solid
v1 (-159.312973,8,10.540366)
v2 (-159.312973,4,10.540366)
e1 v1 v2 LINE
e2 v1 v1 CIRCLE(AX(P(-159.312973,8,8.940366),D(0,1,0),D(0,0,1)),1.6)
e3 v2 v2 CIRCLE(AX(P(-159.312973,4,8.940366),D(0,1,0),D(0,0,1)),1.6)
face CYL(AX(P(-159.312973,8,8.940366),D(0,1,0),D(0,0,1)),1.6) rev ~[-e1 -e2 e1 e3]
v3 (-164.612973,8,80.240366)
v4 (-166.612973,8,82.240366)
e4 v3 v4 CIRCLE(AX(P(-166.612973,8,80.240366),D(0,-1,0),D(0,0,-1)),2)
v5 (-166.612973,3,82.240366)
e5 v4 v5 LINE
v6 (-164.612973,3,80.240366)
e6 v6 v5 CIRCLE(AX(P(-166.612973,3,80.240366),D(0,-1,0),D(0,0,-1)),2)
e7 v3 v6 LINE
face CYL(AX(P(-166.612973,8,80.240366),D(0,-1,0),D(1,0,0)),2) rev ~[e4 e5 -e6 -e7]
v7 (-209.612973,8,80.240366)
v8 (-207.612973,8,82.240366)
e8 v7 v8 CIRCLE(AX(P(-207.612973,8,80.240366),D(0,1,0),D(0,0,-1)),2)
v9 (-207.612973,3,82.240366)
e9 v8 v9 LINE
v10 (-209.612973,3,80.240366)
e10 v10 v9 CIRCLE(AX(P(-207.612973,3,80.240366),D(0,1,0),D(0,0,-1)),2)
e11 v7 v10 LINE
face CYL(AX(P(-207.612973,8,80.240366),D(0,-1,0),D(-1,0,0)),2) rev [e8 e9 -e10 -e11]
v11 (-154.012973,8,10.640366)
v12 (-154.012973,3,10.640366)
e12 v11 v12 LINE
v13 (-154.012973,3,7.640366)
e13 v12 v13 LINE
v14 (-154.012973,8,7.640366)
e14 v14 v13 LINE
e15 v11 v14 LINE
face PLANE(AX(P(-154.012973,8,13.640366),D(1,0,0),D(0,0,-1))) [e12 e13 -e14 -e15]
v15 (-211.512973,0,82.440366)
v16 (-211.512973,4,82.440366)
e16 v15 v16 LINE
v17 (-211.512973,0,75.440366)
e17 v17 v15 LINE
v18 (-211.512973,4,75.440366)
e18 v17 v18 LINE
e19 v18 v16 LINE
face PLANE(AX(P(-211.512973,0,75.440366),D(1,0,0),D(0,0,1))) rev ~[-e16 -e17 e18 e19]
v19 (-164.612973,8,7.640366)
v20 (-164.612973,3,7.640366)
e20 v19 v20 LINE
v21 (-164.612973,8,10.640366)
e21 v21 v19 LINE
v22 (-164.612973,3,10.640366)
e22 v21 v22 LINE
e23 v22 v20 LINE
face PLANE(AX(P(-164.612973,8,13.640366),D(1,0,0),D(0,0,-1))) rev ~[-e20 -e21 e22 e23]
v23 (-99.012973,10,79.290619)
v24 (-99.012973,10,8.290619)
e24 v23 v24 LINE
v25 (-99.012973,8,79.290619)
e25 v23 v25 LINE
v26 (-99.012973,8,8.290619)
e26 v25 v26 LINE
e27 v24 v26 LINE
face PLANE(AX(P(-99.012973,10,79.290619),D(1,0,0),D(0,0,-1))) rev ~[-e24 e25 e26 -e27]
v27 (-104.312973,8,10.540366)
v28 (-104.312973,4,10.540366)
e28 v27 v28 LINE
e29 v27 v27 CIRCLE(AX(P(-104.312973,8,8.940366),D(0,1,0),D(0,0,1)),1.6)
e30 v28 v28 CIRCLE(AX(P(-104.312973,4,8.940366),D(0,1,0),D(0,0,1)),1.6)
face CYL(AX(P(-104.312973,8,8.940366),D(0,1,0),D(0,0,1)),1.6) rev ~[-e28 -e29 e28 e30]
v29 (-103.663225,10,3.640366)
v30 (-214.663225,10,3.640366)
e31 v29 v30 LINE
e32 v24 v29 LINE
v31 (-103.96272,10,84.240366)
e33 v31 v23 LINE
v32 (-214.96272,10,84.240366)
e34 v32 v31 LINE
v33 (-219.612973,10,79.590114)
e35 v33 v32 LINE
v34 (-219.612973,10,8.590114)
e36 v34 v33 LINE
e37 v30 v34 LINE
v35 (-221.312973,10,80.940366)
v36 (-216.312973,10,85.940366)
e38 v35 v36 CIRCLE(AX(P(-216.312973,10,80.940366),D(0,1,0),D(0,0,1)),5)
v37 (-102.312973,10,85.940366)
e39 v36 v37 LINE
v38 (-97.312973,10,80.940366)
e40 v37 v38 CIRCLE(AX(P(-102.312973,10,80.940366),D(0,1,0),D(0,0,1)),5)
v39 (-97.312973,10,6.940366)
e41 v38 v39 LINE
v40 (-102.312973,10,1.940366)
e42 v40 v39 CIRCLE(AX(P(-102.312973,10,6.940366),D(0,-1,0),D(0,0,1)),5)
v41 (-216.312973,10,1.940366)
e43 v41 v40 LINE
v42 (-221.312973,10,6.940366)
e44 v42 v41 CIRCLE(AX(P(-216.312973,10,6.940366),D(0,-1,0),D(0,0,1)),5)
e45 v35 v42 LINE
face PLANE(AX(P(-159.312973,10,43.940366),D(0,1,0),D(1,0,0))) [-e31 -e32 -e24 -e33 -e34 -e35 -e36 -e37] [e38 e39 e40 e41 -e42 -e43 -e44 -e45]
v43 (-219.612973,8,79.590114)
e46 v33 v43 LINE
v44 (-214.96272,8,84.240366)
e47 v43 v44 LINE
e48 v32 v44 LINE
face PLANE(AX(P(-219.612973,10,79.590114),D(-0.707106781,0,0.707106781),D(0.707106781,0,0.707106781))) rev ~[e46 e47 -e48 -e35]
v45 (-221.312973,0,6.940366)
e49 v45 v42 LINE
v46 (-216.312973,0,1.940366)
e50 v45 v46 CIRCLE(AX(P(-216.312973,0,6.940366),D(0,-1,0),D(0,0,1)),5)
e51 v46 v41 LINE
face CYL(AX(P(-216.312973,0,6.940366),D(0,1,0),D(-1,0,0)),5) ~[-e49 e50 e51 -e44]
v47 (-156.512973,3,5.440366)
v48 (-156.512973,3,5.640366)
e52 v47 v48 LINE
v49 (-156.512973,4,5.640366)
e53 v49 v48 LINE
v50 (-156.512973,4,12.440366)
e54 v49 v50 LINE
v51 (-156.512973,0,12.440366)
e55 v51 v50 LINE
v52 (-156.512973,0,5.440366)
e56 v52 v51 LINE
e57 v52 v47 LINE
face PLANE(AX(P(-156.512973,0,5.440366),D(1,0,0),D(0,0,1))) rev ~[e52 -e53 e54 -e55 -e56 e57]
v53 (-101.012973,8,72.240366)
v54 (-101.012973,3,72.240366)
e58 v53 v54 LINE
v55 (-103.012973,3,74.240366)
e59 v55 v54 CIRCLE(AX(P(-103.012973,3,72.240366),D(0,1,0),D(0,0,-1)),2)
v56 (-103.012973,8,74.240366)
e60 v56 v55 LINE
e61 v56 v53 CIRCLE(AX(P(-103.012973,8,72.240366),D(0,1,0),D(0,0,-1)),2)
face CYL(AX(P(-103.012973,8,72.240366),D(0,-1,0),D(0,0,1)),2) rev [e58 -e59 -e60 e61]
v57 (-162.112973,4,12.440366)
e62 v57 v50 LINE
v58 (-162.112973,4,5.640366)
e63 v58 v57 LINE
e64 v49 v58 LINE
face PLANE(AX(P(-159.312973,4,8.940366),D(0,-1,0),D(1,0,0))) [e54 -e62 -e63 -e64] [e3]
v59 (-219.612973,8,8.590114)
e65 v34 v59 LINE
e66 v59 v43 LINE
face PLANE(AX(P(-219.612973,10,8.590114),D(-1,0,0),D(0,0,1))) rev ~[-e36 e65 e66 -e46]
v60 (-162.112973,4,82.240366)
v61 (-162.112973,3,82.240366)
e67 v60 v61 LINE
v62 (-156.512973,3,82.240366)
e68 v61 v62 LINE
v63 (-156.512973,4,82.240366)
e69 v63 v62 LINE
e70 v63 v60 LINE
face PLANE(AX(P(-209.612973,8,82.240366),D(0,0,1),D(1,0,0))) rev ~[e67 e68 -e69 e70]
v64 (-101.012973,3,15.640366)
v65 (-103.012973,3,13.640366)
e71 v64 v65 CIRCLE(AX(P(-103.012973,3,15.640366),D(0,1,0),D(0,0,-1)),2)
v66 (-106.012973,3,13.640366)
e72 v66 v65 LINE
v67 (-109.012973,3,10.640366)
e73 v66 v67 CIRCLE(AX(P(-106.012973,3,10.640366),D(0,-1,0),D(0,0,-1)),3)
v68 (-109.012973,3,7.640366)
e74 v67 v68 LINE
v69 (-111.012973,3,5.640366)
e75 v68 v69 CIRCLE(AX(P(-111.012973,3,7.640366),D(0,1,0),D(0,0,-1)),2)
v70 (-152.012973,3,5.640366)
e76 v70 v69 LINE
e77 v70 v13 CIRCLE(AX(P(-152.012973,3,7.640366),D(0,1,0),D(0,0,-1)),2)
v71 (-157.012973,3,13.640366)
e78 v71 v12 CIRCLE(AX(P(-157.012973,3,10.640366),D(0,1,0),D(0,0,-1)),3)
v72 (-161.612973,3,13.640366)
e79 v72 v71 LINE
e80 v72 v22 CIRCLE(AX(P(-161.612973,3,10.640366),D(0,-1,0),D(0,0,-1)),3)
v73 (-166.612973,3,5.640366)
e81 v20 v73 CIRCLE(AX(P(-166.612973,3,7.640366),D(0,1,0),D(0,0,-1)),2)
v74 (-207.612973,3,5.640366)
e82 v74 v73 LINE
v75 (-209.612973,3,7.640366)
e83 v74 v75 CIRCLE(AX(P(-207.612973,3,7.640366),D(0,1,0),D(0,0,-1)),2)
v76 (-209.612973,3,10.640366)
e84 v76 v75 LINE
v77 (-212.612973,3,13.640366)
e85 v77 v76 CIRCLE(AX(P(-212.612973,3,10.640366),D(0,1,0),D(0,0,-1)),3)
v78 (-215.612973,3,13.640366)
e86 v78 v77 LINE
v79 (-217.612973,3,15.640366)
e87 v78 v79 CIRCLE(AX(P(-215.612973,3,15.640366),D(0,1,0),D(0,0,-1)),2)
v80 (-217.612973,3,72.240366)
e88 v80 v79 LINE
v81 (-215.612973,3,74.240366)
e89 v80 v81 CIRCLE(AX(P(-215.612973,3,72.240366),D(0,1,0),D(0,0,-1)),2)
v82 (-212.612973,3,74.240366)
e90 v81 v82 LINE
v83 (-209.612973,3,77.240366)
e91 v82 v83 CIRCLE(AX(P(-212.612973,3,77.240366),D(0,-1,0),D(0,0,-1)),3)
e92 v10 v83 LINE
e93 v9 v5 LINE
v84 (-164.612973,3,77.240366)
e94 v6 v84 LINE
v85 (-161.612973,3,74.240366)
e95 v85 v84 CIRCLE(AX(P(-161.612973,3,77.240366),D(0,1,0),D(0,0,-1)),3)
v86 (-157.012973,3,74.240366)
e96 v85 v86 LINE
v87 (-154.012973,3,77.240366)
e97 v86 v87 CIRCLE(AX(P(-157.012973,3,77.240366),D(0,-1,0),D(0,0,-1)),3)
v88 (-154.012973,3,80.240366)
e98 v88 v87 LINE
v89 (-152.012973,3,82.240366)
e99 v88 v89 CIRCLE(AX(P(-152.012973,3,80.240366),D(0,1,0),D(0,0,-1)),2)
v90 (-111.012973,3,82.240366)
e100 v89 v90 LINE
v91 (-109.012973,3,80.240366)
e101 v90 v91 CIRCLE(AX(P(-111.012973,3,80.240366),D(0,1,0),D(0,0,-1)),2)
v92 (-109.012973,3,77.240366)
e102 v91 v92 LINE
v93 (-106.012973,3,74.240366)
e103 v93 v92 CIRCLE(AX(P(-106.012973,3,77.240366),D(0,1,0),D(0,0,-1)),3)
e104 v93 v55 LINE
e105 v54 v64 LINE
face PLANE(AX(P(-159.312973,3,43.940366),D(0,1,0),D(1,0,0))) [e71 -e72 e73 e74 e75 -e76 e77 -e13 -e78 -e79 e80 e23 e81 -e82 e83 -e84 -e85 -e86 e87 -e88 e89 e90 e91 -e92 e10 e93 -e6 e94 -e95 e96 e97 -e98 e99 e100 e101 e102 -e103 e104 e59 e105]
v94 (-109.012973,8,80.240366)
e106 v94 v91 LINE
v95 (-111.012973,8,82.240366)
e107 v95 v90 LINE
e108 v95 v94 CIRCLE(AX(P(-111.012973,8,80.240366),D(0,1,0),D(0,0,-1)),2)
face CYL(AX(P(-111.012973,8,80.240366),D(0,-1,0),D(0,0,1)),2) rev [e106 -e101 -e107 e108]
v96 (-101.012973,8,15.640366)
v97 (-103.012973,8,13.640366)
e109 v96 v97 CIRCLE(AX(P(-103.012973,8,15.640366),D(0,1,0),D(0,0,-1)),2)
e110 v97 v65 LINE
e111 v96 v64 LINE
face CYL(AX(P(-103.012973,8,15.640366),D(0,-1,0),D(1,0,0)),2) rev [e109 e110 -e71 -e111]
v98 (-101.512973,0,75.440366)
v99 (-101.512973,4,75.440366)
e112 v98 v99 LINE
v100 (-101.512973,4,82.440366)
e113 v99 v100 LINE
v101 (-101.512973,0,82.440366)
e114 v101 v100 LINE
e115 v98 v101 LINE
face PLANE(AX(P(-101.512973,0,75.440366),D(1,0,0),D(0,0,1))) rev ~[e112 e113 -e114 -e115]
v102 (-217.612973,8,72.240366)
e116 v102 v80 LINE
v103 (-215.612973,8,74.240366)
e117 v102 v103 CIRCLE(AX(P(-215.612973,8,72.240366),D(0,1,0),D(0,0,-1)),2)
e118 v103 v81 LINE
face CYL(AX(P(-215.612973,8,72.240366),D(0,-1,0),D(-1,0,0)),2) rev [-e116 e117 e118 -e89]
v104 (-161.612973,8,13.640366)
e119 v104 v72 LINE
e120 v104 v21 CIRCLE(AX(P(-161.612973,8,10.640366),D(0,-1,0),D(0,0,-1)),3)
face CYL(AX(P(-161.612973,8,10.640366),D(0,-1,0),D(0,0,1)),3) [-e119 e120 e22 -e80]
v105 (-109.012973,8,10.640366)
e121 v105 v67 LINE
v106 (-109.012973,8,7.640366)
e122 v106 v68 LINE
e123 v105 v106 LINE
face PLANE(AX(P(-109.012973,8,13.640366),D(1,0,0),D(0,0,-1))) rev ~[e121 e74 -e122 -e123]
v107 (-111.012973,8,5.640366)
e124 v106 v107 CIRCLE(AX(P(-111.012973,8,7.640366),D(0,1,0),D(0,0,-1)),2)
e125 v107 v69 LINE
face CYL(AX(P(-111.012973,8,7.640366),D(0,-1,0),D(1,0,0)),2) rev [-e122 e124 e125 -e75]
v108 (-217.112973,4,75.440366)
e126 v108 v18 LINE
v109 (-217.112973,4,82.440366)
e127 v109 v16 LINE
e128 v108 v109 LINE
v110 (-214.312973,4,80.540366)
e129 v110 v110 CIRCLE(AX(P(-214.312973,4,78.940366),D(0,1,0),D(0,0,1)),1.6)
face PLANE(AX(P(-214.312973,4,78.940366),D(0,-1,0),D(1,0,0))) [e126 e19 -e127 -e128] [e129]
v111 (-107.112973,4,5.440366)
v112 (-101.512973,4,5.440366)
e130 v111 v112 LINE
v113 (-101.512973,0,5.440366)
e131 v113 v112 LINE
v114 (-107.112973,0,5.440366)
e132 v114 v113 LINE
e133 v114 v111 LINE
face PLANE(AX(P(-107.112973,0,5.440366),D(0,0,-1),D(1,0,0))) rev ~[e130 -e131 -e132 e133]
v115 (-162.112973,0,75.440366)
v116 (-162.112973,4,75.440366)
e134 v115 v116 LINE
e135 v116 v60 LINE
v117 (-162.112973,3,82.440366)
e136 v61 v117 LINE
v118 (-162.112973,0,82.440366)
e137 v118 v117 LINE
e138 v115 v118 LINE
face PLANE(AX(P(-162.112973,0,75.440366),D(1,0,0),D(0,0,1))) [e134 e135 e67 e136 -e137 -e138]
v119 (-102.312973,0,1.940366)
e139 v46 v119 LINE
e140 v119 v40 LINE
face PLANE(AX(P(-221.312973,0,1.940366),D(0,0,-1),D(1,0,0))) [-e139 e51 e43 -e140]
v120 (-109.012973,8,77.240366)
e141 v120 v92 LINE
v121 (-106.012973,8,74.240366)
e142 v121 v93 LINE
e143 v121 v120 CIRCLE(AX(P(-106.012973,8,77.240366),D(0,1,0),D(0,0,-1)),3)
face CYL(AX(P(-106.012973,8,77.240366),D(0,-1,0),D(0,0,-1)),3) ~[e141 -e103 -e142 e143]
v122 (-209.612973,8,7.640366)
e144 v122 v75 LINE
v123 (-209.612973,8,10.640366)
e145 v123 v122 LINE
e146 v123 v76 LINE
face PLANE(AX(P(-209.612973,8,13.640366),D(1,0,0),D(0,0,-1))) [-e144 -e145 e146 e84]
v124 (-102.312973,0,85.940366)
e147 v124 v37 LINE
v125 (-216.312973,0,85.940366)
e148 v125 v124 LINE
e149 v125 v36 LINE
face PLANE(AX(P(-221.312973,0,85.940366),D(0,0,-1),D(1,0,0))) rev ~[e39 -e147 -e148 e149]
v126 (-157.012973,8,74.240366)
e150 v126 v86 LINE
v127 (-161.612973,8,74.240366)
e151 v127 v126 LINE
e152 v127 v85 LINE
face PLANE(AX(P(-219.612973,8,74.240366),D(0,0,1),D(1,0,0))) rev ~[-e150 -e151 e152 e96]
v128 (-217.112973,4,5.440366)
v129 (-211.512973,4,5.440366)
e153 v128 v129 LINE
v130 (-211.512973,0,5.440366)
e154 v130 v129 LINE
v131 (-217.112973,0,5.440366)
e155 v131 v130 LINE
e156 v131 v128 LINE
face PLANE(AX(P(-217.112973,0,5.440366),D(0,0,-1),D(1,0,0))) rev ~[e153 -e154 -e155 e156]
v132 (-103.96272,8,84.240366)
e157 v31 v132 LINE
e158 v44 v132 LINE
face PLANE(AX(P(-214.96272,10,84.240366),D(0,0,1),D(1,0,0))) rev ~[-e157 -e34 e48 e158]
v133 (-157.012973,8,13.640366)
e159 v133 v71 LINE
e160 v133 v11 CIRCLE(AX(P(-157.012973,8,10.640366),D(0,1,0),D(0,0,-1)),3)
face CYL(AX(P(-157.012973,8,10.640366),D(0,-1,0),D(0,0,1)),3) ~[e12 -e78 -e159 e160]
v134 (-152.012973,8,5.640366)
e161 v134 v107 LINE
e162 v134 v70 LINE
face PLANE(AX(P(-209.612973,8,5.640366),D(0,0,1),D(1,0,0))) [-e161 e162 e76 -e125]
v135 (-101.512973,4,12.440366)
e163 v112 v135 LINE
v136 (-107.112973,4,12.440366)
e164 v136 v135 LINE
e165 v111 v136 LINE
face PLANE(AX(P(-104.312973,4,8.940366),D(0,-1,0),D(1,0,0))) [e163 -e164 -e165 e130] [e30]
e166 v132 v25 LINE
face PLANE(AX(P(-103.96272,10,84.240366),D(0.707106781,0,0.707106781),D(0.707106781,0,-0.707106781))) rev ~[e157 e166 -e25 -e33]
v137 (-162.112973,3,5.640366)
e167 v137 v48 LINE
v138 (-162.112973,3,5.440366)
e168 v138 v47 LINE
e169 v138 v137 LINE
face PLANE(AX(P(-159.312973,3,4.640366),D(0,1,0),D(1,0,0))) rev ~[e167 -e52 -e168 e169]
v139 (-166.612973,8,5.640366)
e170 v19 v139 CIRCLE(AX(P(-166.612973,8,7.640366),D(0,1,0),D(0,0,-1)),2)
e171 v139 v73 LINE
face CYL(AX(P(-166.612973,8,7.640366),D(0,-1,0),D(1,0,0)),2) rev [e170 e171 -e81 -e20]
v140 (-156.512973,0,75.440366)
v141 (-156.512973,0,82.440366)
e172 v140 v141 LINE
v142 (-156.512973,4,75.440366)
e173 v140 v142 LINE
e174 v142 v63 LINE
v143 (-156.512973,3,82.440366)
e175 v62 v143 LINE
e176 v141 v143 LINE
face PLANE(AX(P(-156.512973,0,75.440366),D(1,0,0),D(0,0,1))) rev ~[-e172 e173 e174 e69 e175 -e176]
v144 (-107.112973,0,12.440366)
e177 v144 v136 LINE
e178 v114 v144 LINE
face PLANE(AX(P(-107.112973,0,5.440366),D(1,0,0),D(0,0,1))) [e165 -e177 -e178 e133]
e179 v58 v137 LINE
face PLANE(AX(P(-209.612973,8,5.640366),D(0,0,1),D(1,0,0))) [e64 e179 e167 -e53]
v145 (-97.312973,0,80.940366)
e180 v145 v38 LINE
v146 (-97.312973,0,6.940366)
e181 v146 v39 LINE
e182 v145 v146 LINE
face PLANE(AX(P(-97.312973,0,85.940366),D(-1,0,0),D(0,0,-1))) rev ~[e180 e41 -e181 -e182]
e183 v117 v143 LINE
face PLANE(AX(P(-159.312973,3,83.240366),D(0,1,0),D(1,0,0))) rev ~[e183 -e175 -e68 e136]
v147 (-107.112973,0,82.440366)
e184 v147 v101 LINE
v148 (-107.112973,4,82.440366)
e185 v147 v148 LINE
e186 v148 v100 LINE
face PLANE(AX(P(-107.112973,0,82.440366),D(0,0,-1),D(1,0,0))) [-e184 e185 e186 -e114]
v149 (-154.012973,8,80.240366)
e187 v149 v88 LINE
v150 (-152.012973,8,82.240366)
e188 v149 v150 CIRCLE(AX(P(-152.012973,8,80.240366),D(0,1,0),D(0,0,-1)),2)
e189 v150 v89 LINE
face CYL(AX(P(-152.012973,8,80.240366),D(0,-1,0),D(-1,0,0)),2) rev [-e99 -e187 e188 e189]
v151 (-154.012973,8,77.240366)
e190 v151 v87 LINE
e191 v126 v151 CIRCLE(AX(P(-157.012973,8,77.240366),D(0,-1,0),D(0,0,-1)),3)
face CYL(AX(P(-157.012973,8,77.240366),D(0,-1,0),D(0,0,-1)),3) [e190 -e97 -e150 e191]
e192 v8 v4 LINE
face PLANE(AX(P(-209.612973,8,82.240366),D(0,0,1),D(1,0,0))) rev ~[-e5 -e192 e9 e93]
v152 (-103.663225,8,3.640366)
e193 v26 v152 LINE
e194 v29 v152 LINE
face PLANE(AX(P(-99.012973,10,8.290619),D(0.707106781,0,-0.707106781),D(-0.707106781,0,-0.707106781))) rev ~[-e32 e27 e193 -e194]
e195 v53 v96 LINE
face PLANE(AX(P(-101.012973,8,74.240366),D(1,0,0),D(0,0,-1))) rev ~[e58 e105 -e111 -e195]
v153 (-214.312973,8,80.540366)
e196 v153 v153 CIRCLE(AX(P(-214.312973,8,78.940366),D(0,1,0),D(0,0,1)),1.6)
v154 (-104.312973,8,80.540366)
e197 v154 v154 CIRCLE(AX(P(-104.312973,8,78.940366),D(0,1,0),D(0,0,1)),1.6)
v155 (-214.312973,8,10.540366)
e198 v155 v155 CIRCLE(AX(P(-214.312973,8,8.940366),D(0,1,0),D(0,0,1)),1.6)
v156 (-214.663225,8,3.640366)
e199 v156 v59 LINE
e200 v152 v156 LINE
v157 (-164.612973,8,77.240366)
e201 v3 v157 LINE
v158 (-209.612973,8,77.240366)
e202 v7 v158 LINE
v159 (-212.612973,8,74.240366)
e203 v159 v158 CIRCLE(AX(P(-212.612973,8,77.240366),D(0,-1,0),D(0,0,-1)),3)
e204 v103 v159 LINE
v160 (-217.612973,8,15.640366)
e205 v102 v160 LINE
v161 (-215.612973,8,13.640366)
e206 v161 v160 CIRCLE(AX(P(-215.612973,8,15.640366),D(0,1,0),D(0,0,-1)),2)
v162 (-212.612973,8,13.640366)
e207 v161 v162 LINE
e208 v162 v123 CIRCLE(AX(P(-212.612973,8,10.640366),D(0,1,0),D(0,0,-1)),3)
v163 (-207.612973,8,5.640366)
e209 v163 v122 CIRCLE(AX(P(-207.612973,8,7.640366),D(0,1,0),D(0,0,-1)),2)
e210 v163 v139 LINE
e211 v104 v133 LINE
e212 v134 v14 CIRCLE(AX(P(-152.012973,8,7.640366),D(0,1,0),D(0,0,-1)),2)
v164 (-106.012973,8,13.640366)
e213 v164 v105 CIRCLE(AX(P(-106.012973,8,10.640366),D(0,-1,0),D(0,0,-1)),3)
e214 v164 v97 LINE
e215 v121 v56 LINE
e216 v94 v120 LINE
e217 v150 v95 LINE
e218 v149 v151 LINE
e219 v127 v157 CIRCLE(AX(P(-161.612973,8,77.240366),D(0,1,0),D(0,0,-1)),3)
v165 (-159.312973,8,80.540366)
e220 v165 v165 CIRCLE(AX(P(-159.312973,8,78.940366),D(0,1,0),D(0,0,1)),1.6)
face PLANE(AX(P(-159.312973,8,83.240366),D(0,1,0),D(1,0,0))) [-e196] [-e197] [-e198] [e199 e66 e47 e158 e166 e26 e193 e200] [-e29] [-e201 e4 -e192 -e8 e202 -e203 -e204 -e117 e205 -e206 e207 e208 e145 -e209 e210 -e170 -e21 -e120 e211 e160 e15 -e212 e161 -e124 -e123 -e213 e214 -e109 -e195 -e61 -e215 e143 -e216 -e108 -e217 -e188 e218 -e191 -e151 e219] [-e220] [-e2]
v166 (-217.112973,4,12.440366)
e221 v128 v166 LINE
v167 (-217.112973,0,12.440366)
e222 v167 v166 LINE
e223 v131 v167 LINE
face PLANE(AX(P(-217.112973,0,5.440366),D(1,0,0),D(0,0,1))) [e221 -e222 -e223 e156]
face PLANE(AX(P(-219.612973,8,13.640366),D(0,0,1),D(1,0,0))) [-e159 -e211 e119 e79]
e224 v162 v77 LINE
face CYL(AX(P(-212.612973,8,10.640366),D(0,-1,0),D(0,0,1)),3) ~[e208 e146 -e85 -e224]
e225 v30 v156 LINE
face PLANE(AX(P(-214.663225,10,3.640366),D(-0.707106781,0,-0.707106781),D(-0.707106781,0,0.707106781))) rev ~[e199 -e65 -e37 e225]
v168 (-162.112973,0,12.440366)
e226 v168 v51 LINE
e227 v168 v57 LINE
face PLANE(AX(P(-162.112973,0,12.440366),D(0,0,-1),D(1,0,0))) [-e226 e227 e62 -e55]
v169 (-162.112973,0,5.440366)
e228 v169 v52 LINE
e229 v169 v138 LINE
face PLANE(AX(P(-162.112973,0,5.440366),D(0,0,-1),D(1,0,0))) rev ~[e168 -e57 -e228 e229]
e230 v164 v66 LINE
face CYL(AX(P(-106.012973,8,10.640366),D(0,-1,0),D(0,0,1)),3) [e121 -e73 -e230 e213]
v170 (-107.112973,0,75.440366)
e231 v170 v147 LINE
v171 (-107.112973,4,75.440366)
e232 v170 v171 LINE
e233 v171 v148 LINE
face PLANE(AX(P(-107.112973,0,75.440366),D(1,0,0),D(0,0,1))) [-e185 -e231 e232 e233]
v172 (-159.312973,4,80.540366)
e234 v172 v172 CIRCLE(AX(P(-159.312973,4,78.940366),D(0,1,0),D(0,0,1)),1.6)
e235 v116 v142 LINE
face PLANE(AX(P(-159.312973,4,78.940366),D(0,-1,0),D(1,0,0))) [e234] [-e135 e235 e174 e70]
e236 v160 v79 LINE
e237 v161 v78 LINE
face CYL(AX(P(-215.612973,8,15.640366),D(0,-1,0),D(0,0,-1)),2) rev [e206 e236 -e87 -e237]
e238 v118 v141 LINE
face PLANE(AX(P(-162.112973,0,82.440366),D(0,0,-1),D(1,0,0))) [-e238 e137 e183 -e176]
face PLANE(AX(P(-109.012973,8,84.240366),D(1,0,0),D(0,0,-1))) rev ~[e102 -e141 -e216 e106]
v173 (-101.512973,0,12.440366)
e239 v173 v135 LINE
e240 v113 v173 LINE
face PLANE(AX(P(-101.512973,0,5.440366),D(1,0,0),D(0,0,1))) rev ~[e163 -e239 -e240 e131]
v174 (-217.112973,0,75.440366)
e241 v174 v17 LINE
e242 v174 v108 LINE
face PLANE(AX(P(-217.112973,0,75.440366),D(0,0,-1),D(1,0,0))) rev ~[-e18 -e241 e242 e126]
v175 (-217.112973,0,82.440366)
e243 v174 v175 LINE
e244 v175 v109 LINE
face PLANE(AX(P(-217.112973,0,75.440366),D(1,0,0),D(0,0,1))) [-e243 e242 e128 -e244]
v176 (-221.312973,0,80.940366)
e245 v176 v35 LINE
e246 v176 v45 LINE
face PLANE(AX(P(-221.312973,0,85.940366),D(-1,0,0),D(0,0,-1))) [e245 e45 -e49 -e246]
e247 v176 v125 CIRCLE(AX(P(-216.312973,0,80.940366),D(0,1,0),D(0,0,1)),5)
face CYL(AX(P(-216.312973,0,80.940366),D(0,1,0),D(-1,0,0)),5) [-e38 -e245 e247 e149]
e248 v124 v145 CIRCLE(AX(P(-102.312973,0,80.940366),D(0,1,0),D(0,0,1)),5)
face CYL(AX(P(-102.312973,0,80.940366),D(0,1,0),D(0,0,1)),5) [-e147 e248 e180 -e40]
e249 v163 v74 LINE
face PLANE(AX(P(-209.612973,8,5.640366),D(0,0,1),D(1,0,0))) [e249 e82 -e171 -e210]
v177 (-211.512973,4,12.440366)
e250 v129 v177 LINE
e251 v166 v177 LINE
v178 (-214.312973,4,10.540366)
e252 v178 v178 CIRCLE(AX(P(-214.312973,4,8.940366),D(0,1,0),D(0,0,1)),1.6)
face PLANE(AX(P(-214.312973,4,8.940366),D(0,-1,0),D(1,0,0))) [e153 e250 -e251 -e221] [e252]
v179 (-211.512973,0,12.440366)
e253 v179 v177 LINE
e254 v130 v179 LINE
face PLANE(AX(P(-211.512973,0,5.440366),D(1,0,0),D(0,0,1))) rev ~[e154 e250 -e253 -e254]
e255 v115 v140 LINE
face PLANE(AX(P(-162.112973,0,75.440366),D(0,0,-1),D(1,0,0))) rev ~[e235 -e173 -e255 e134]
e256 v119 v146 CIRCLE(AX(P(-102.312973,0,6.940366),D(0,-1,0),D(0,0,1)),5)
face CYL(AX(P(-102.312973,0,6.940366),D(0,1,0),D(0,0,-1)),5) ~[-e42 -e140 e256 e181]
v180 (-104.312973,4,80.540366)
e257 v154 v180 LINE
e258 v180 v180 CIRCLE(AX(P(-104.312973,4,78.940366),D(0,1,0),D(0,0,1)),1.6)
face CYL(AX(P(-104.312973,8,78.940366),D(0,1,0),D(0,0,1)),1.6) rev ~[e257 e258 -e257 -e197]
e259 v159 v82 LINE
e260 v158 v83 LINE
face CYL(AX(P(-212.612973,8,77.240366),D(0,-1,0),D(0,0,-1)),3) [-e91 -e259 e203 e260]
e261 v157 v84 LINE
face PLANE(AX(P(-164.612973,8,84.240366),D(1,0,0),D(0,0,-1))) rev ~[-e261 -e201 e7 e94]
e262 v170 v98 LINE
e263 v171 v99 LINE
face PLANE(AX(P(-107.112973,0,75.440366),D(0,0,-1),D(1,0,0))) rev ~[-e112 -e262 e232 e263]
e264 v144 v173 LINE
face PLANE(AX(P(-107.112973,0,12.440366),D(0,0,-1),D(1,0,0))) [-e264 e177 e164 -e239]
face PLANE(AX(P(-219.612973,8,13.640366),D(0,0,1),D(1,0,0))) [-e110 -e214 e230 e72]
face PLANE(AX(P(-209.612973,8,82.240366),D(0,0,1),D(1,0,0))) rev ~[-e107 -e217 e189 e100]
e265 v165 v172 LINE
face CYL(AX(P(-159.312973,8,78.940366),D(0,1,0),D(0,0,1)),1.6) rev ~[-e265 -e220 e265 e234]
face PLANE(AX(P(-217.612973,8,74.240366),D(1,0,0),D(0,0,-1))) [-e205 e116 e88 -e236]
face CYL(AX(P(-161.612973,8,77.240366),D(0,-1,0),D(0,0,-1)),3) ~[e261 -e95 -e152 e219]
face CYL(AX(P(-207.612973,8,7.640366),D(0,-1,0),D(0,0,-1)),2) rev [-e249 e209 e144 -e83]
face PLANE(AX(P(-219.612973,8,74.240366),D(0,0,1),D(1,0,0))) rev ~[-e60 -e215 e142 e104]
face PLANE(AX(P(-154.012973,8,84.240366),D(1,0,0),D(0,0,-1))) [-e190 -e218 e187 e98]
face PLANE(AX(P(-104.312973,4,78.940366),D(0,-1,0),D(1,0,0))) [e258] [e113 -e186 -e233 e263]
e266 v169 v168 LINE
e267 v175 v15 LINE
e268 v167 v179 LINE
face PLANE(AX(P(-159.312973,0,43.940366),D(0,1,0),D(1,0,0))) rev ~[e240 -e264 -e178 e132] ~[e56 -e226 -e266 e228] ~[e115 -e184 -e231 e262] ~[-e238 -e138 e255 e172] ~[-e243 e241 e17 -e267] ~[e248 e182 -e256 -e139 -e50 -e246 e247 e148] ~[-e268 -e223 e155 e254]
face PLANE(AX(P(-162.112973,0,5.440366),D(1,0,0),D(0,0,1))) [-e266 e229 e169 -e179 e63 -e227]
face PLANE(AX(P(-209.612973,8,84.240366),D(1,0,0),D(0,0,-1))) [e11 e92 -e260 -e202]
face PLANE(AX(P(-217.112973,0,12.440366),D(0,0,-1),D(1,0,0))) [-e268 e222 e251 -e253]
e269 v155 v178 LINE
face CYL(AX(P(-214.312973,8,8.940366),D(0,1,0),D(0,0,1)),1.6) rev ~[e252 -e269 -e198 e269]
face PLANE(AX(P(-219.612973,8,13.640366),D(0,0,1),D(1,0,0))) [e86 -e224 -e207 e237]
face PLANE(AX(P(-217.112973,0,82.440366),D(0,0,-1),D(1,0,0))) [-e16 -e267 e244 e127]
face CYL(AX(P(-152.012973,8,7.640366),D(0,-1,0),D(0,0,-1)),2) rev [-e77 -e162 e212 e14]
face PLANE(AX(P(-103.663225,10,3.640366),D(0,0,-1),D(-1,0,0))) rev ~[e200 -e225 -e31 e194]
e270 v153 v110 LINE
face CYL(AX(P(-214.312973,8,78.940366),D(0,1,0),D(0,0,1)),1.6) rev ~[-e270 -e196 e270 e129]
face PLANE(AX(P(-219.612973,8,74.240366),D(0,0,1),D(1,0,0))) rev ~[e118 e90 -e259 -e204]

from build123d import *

# Parameters (mm, degrees)
SKETCH1_W           = 124
SKETCH1_H           = 84
BOSS_EXTRUDE1_DEPTH = 10
CUT_EXTRUDE1_DEPTH  = 2
SKETCH3_W           = 120.6
SKETCH3_H           = 60.6
CUT_EXTRUDE2_DEPTH  = 5
SKETCH4_W           = 45
SKETCH4_H           = 10
CUT_EXTRUDE3_DEPTH  = 5
FILLET1_R           = 3
FILLET2_R           = 5
SKETCH5_R           = 1.6
CUT_EXTRUDE4_DEPTH  = 238.548265663
SKETCH7_W           = 5.6
SKETCH7_H           = 7
CUT_EXTRUDE5_DEPTH  = 4
SKETCH8_W           = 100.6
SKETCH8_H           = 2
SKETCH8_W_2         = 2
SKETCH8_H_2         = 60.6
BOSS_EXTRUDE2_DEPTH = 5
FILLET3_R           = 2


with BuildPart() as part:
    # Sketch1 → Boss-Extrude1 (new body)
    with BuildSketch(Plane(origin=(0, 0, 0), x_dir=(1, 0, 0), z_dir=(0, 1, 0))):
        with Locations((-159.312972905, -43.940366204)):
            Rectangle(SKETCH1_W, SKETCH1_H)
    extrude(amount=BOSS_EXTRUDE1_DEPTH)

    # Sketch2 → Cut-Extrude1 (cut)
    with BuildSketch(Plane(origin=(0, 10, 0), x_dir=(1, 0, 0), z_dir=(0, 1, 0))):
        Polygon((-214.663225437, -3.640366204), (-219.612972905, -8.590113673), (-219.612972905, -79.590113673), (-214.962720373, -84.240366204), (-103.962720373, -84.240366204), (-99.012972905, -79.290618736), (-99.012972905, -8.290618736), (-103.663225437, -3.640366204), align=None)
    extrude(amount=-CUT_EXTRUDE1_DEPTH, mode=Mode.SUBTRACT)

    # Sketch3 → Cut-Extrude2 (cut)
    with BuildSketch(Plane(origin=(0, 8, 0), x_dir=(1, 0, 0), z_dir=(0, 1, 0))):
        with Locations((-159.312972905, -43.940366204)):
            Rectangle(SKETCH3_W, SKETCH3_H)
    extrude(amount=-CUT_EXTRUDE2_DEPTH, mode=Mode.SUBTRACT)

    # Sketch4 → Cut-Extrude3 (cut)
    with BuildSketch(Plane(origin=(0, 8, 0), x_dir=(1, 0, 0), z_dir=(0, 1, 0))):
        with Locations((-187.112972905, -8.640366204)):
            Rectangle(SKETCH4_W, SKETCH4_H)
        with Locations((-131.512972905, -8.640366204)):
            Rectangle(SKETCH4_W, SKETCH4_H)
        with Locations((-131.512972905, -79.240366204)):
            Rectangle(SKETCH4_W, SKETCH4_H)
        with Locations((-187.112972905, -79.240366204)):
            Rectangle(SKETCH4_W, SKETCH4_H)
    extrude(amount=-CUT_EXTRUDE3_DEPTH, mode=Mode.SUBTRACT)

    # Fillet1
    fillet1_edges = [part.edges().sort_by_distance(p)[0] for p in [
        (-209.612972905, 5.5, 74.240366204),
        (-164.612972905, 5.5, 74.240366204),
        (-109.012972905, 5.5, 74.240366204),
        (-154.012972905, 5.5, 74.240366204),
        (-154.012972905, 5.5, 13.640366204),
        (-109.012972905, 5.5, 13.640366204),
        (-209.612972905, 5.5, 13.640366204),
        (-164.612972905, 5.5, 13.640366204),
    ]]
    fillet(fillet1_edges, radius=FILLET1_R)

    # Fillet2
    fillet2_edges = [part.edges().sort_by_distance(p)[0] for p in [
        (-221.312972905, 5, 1.940366204),
        (-97.312972905, 5, 1.940366204),
        (-97.312972905, 5, 85.940366204),
        (-221.312972905, 5, 85.940366204),
    ]]
    fillet(fillet2_edges, radius=FILLET2_R)

    # Sketch5 → Cut-Extrude4 (cut, through all)
    with BuildSketch(Plane(origin=(0, 8, 0), x_dir=(1, 0, 0), z_dir=(0, 1, 0))):
        with Locations(Location((-214.312972905, -8.940366204, 0), (0, 0, 270))):
            Circle(SKETCH5_R)
        with Locations(Location((-159.312972905, -8.940366204, 0), (0, 0, 270))):
            Circle(SKETCH5_R)
        with Locations(Location((-104.312972905, -8.940366204, 0), (0, 0, 270))):
            Circle(SKETCH5_R)
        with Locations(Location((-104.312972905, -78.940366204, 0), (0, 0, 270))):
            Circle(SKETCH5_R)
        with Locations(Location((-159.312972905, -78.940366204, 0), (0, 0, 270))):
            Circle(SKETCH5_R)
        with Locations(Location((-214.312972905, -78.940366204, 0), (0, 0, 270))):
            Circle(SKETCH5_R)
    extrude(amount=-CUT_EXTRUDE4_DEPTH, mode=Mode.SUBTRACT)

    # Sketch7 → Cut-Extrude5 (cut)
    with BuildSketch(Plane.XZ):
        with Locations((-104.312972905, 8.940366204)):
            Rectangle(SKETCH7_W, SKETCH7_H)
        with Locations((-159.312972905, 8.940366204)):
            Rectangle(SKETCH7_W, SKETCH7_H)
        with Locations((-214.312972905, 8.940366204)):
            Rectangle(SKETCH7_W, SKETCH7_H)
        with Locations((-214.312972905, 78.940366204)):
            Rectangle(SKETCH7_W, SKETCH7_H)
        with Locations((-159.312972905, 78.940366204)):
            Rectangle(SKETCH7_W, SKETCH7_H)
        with Locations((-104.312972905, 78.940366204)):
            Rectangle(SKETCH7_W, SKETCH7_H)
    extrude(amount=-CUT_EXTRUDE5_DEPTH, mode=Mode.SUBTRACT)

    # Sketch8 → Boss-Extrude2 (add)
    with BuildSketch(Plane(origin=(0, 8, 0), x_dir=(1, 0, 0), z_dir=(0, 1, 0))):
        with Locations((-159.312972905, -83.240366204)):
            Rectangle(SKETCH8_W, SKETCH8_H)
        with Locations((-218.612972905, -43.940366204)):
            Rectangle(SKETCH8_W_2, SKETCH8_H_2)
        with Locations((-159.312972905, -4.640366204)):
            Rectangle(SKETCH8_W, SKETCH8_H)
        with Locations((-100.012972905, -43.940366204)):
            Rectangle(SKETCH8_W_2, SKETCH8_H_2)
    extrude(amount=-BOSS_EXTRUDE2_DEPTH)

    # Fillet3
    fillet3_edges = [part.edges().sort_by_distance(p)[0] for p in [
        (-209.612972905, 5.5, 82.240366204),
        (-109.012972905, 5.5, 82.240366204),
        (-154.012972905, 5.5, 82.240366204),
        (-164.612972905, 5.5, 82.240366204),
        (-217.612972905, 5.5, 13.640366204),
        (-217.612972905, 5.5, 74.240366204),
        (-109.012972905, 5.5, 5.640366204),
        (-209.612972905, 5.5, 5.640366204),
        (-164.612972905, 5.5, 5.640366204),
        (-154.012972905, 5.5, 5.640366204),
        (-101.012972905, 5.5, 74.240366204),
        (-101.012972905, 5.5, 13.640366204),
    ]]
    fillet(fillet3_edges, radius=FILLET3_R)


solid = part.part
